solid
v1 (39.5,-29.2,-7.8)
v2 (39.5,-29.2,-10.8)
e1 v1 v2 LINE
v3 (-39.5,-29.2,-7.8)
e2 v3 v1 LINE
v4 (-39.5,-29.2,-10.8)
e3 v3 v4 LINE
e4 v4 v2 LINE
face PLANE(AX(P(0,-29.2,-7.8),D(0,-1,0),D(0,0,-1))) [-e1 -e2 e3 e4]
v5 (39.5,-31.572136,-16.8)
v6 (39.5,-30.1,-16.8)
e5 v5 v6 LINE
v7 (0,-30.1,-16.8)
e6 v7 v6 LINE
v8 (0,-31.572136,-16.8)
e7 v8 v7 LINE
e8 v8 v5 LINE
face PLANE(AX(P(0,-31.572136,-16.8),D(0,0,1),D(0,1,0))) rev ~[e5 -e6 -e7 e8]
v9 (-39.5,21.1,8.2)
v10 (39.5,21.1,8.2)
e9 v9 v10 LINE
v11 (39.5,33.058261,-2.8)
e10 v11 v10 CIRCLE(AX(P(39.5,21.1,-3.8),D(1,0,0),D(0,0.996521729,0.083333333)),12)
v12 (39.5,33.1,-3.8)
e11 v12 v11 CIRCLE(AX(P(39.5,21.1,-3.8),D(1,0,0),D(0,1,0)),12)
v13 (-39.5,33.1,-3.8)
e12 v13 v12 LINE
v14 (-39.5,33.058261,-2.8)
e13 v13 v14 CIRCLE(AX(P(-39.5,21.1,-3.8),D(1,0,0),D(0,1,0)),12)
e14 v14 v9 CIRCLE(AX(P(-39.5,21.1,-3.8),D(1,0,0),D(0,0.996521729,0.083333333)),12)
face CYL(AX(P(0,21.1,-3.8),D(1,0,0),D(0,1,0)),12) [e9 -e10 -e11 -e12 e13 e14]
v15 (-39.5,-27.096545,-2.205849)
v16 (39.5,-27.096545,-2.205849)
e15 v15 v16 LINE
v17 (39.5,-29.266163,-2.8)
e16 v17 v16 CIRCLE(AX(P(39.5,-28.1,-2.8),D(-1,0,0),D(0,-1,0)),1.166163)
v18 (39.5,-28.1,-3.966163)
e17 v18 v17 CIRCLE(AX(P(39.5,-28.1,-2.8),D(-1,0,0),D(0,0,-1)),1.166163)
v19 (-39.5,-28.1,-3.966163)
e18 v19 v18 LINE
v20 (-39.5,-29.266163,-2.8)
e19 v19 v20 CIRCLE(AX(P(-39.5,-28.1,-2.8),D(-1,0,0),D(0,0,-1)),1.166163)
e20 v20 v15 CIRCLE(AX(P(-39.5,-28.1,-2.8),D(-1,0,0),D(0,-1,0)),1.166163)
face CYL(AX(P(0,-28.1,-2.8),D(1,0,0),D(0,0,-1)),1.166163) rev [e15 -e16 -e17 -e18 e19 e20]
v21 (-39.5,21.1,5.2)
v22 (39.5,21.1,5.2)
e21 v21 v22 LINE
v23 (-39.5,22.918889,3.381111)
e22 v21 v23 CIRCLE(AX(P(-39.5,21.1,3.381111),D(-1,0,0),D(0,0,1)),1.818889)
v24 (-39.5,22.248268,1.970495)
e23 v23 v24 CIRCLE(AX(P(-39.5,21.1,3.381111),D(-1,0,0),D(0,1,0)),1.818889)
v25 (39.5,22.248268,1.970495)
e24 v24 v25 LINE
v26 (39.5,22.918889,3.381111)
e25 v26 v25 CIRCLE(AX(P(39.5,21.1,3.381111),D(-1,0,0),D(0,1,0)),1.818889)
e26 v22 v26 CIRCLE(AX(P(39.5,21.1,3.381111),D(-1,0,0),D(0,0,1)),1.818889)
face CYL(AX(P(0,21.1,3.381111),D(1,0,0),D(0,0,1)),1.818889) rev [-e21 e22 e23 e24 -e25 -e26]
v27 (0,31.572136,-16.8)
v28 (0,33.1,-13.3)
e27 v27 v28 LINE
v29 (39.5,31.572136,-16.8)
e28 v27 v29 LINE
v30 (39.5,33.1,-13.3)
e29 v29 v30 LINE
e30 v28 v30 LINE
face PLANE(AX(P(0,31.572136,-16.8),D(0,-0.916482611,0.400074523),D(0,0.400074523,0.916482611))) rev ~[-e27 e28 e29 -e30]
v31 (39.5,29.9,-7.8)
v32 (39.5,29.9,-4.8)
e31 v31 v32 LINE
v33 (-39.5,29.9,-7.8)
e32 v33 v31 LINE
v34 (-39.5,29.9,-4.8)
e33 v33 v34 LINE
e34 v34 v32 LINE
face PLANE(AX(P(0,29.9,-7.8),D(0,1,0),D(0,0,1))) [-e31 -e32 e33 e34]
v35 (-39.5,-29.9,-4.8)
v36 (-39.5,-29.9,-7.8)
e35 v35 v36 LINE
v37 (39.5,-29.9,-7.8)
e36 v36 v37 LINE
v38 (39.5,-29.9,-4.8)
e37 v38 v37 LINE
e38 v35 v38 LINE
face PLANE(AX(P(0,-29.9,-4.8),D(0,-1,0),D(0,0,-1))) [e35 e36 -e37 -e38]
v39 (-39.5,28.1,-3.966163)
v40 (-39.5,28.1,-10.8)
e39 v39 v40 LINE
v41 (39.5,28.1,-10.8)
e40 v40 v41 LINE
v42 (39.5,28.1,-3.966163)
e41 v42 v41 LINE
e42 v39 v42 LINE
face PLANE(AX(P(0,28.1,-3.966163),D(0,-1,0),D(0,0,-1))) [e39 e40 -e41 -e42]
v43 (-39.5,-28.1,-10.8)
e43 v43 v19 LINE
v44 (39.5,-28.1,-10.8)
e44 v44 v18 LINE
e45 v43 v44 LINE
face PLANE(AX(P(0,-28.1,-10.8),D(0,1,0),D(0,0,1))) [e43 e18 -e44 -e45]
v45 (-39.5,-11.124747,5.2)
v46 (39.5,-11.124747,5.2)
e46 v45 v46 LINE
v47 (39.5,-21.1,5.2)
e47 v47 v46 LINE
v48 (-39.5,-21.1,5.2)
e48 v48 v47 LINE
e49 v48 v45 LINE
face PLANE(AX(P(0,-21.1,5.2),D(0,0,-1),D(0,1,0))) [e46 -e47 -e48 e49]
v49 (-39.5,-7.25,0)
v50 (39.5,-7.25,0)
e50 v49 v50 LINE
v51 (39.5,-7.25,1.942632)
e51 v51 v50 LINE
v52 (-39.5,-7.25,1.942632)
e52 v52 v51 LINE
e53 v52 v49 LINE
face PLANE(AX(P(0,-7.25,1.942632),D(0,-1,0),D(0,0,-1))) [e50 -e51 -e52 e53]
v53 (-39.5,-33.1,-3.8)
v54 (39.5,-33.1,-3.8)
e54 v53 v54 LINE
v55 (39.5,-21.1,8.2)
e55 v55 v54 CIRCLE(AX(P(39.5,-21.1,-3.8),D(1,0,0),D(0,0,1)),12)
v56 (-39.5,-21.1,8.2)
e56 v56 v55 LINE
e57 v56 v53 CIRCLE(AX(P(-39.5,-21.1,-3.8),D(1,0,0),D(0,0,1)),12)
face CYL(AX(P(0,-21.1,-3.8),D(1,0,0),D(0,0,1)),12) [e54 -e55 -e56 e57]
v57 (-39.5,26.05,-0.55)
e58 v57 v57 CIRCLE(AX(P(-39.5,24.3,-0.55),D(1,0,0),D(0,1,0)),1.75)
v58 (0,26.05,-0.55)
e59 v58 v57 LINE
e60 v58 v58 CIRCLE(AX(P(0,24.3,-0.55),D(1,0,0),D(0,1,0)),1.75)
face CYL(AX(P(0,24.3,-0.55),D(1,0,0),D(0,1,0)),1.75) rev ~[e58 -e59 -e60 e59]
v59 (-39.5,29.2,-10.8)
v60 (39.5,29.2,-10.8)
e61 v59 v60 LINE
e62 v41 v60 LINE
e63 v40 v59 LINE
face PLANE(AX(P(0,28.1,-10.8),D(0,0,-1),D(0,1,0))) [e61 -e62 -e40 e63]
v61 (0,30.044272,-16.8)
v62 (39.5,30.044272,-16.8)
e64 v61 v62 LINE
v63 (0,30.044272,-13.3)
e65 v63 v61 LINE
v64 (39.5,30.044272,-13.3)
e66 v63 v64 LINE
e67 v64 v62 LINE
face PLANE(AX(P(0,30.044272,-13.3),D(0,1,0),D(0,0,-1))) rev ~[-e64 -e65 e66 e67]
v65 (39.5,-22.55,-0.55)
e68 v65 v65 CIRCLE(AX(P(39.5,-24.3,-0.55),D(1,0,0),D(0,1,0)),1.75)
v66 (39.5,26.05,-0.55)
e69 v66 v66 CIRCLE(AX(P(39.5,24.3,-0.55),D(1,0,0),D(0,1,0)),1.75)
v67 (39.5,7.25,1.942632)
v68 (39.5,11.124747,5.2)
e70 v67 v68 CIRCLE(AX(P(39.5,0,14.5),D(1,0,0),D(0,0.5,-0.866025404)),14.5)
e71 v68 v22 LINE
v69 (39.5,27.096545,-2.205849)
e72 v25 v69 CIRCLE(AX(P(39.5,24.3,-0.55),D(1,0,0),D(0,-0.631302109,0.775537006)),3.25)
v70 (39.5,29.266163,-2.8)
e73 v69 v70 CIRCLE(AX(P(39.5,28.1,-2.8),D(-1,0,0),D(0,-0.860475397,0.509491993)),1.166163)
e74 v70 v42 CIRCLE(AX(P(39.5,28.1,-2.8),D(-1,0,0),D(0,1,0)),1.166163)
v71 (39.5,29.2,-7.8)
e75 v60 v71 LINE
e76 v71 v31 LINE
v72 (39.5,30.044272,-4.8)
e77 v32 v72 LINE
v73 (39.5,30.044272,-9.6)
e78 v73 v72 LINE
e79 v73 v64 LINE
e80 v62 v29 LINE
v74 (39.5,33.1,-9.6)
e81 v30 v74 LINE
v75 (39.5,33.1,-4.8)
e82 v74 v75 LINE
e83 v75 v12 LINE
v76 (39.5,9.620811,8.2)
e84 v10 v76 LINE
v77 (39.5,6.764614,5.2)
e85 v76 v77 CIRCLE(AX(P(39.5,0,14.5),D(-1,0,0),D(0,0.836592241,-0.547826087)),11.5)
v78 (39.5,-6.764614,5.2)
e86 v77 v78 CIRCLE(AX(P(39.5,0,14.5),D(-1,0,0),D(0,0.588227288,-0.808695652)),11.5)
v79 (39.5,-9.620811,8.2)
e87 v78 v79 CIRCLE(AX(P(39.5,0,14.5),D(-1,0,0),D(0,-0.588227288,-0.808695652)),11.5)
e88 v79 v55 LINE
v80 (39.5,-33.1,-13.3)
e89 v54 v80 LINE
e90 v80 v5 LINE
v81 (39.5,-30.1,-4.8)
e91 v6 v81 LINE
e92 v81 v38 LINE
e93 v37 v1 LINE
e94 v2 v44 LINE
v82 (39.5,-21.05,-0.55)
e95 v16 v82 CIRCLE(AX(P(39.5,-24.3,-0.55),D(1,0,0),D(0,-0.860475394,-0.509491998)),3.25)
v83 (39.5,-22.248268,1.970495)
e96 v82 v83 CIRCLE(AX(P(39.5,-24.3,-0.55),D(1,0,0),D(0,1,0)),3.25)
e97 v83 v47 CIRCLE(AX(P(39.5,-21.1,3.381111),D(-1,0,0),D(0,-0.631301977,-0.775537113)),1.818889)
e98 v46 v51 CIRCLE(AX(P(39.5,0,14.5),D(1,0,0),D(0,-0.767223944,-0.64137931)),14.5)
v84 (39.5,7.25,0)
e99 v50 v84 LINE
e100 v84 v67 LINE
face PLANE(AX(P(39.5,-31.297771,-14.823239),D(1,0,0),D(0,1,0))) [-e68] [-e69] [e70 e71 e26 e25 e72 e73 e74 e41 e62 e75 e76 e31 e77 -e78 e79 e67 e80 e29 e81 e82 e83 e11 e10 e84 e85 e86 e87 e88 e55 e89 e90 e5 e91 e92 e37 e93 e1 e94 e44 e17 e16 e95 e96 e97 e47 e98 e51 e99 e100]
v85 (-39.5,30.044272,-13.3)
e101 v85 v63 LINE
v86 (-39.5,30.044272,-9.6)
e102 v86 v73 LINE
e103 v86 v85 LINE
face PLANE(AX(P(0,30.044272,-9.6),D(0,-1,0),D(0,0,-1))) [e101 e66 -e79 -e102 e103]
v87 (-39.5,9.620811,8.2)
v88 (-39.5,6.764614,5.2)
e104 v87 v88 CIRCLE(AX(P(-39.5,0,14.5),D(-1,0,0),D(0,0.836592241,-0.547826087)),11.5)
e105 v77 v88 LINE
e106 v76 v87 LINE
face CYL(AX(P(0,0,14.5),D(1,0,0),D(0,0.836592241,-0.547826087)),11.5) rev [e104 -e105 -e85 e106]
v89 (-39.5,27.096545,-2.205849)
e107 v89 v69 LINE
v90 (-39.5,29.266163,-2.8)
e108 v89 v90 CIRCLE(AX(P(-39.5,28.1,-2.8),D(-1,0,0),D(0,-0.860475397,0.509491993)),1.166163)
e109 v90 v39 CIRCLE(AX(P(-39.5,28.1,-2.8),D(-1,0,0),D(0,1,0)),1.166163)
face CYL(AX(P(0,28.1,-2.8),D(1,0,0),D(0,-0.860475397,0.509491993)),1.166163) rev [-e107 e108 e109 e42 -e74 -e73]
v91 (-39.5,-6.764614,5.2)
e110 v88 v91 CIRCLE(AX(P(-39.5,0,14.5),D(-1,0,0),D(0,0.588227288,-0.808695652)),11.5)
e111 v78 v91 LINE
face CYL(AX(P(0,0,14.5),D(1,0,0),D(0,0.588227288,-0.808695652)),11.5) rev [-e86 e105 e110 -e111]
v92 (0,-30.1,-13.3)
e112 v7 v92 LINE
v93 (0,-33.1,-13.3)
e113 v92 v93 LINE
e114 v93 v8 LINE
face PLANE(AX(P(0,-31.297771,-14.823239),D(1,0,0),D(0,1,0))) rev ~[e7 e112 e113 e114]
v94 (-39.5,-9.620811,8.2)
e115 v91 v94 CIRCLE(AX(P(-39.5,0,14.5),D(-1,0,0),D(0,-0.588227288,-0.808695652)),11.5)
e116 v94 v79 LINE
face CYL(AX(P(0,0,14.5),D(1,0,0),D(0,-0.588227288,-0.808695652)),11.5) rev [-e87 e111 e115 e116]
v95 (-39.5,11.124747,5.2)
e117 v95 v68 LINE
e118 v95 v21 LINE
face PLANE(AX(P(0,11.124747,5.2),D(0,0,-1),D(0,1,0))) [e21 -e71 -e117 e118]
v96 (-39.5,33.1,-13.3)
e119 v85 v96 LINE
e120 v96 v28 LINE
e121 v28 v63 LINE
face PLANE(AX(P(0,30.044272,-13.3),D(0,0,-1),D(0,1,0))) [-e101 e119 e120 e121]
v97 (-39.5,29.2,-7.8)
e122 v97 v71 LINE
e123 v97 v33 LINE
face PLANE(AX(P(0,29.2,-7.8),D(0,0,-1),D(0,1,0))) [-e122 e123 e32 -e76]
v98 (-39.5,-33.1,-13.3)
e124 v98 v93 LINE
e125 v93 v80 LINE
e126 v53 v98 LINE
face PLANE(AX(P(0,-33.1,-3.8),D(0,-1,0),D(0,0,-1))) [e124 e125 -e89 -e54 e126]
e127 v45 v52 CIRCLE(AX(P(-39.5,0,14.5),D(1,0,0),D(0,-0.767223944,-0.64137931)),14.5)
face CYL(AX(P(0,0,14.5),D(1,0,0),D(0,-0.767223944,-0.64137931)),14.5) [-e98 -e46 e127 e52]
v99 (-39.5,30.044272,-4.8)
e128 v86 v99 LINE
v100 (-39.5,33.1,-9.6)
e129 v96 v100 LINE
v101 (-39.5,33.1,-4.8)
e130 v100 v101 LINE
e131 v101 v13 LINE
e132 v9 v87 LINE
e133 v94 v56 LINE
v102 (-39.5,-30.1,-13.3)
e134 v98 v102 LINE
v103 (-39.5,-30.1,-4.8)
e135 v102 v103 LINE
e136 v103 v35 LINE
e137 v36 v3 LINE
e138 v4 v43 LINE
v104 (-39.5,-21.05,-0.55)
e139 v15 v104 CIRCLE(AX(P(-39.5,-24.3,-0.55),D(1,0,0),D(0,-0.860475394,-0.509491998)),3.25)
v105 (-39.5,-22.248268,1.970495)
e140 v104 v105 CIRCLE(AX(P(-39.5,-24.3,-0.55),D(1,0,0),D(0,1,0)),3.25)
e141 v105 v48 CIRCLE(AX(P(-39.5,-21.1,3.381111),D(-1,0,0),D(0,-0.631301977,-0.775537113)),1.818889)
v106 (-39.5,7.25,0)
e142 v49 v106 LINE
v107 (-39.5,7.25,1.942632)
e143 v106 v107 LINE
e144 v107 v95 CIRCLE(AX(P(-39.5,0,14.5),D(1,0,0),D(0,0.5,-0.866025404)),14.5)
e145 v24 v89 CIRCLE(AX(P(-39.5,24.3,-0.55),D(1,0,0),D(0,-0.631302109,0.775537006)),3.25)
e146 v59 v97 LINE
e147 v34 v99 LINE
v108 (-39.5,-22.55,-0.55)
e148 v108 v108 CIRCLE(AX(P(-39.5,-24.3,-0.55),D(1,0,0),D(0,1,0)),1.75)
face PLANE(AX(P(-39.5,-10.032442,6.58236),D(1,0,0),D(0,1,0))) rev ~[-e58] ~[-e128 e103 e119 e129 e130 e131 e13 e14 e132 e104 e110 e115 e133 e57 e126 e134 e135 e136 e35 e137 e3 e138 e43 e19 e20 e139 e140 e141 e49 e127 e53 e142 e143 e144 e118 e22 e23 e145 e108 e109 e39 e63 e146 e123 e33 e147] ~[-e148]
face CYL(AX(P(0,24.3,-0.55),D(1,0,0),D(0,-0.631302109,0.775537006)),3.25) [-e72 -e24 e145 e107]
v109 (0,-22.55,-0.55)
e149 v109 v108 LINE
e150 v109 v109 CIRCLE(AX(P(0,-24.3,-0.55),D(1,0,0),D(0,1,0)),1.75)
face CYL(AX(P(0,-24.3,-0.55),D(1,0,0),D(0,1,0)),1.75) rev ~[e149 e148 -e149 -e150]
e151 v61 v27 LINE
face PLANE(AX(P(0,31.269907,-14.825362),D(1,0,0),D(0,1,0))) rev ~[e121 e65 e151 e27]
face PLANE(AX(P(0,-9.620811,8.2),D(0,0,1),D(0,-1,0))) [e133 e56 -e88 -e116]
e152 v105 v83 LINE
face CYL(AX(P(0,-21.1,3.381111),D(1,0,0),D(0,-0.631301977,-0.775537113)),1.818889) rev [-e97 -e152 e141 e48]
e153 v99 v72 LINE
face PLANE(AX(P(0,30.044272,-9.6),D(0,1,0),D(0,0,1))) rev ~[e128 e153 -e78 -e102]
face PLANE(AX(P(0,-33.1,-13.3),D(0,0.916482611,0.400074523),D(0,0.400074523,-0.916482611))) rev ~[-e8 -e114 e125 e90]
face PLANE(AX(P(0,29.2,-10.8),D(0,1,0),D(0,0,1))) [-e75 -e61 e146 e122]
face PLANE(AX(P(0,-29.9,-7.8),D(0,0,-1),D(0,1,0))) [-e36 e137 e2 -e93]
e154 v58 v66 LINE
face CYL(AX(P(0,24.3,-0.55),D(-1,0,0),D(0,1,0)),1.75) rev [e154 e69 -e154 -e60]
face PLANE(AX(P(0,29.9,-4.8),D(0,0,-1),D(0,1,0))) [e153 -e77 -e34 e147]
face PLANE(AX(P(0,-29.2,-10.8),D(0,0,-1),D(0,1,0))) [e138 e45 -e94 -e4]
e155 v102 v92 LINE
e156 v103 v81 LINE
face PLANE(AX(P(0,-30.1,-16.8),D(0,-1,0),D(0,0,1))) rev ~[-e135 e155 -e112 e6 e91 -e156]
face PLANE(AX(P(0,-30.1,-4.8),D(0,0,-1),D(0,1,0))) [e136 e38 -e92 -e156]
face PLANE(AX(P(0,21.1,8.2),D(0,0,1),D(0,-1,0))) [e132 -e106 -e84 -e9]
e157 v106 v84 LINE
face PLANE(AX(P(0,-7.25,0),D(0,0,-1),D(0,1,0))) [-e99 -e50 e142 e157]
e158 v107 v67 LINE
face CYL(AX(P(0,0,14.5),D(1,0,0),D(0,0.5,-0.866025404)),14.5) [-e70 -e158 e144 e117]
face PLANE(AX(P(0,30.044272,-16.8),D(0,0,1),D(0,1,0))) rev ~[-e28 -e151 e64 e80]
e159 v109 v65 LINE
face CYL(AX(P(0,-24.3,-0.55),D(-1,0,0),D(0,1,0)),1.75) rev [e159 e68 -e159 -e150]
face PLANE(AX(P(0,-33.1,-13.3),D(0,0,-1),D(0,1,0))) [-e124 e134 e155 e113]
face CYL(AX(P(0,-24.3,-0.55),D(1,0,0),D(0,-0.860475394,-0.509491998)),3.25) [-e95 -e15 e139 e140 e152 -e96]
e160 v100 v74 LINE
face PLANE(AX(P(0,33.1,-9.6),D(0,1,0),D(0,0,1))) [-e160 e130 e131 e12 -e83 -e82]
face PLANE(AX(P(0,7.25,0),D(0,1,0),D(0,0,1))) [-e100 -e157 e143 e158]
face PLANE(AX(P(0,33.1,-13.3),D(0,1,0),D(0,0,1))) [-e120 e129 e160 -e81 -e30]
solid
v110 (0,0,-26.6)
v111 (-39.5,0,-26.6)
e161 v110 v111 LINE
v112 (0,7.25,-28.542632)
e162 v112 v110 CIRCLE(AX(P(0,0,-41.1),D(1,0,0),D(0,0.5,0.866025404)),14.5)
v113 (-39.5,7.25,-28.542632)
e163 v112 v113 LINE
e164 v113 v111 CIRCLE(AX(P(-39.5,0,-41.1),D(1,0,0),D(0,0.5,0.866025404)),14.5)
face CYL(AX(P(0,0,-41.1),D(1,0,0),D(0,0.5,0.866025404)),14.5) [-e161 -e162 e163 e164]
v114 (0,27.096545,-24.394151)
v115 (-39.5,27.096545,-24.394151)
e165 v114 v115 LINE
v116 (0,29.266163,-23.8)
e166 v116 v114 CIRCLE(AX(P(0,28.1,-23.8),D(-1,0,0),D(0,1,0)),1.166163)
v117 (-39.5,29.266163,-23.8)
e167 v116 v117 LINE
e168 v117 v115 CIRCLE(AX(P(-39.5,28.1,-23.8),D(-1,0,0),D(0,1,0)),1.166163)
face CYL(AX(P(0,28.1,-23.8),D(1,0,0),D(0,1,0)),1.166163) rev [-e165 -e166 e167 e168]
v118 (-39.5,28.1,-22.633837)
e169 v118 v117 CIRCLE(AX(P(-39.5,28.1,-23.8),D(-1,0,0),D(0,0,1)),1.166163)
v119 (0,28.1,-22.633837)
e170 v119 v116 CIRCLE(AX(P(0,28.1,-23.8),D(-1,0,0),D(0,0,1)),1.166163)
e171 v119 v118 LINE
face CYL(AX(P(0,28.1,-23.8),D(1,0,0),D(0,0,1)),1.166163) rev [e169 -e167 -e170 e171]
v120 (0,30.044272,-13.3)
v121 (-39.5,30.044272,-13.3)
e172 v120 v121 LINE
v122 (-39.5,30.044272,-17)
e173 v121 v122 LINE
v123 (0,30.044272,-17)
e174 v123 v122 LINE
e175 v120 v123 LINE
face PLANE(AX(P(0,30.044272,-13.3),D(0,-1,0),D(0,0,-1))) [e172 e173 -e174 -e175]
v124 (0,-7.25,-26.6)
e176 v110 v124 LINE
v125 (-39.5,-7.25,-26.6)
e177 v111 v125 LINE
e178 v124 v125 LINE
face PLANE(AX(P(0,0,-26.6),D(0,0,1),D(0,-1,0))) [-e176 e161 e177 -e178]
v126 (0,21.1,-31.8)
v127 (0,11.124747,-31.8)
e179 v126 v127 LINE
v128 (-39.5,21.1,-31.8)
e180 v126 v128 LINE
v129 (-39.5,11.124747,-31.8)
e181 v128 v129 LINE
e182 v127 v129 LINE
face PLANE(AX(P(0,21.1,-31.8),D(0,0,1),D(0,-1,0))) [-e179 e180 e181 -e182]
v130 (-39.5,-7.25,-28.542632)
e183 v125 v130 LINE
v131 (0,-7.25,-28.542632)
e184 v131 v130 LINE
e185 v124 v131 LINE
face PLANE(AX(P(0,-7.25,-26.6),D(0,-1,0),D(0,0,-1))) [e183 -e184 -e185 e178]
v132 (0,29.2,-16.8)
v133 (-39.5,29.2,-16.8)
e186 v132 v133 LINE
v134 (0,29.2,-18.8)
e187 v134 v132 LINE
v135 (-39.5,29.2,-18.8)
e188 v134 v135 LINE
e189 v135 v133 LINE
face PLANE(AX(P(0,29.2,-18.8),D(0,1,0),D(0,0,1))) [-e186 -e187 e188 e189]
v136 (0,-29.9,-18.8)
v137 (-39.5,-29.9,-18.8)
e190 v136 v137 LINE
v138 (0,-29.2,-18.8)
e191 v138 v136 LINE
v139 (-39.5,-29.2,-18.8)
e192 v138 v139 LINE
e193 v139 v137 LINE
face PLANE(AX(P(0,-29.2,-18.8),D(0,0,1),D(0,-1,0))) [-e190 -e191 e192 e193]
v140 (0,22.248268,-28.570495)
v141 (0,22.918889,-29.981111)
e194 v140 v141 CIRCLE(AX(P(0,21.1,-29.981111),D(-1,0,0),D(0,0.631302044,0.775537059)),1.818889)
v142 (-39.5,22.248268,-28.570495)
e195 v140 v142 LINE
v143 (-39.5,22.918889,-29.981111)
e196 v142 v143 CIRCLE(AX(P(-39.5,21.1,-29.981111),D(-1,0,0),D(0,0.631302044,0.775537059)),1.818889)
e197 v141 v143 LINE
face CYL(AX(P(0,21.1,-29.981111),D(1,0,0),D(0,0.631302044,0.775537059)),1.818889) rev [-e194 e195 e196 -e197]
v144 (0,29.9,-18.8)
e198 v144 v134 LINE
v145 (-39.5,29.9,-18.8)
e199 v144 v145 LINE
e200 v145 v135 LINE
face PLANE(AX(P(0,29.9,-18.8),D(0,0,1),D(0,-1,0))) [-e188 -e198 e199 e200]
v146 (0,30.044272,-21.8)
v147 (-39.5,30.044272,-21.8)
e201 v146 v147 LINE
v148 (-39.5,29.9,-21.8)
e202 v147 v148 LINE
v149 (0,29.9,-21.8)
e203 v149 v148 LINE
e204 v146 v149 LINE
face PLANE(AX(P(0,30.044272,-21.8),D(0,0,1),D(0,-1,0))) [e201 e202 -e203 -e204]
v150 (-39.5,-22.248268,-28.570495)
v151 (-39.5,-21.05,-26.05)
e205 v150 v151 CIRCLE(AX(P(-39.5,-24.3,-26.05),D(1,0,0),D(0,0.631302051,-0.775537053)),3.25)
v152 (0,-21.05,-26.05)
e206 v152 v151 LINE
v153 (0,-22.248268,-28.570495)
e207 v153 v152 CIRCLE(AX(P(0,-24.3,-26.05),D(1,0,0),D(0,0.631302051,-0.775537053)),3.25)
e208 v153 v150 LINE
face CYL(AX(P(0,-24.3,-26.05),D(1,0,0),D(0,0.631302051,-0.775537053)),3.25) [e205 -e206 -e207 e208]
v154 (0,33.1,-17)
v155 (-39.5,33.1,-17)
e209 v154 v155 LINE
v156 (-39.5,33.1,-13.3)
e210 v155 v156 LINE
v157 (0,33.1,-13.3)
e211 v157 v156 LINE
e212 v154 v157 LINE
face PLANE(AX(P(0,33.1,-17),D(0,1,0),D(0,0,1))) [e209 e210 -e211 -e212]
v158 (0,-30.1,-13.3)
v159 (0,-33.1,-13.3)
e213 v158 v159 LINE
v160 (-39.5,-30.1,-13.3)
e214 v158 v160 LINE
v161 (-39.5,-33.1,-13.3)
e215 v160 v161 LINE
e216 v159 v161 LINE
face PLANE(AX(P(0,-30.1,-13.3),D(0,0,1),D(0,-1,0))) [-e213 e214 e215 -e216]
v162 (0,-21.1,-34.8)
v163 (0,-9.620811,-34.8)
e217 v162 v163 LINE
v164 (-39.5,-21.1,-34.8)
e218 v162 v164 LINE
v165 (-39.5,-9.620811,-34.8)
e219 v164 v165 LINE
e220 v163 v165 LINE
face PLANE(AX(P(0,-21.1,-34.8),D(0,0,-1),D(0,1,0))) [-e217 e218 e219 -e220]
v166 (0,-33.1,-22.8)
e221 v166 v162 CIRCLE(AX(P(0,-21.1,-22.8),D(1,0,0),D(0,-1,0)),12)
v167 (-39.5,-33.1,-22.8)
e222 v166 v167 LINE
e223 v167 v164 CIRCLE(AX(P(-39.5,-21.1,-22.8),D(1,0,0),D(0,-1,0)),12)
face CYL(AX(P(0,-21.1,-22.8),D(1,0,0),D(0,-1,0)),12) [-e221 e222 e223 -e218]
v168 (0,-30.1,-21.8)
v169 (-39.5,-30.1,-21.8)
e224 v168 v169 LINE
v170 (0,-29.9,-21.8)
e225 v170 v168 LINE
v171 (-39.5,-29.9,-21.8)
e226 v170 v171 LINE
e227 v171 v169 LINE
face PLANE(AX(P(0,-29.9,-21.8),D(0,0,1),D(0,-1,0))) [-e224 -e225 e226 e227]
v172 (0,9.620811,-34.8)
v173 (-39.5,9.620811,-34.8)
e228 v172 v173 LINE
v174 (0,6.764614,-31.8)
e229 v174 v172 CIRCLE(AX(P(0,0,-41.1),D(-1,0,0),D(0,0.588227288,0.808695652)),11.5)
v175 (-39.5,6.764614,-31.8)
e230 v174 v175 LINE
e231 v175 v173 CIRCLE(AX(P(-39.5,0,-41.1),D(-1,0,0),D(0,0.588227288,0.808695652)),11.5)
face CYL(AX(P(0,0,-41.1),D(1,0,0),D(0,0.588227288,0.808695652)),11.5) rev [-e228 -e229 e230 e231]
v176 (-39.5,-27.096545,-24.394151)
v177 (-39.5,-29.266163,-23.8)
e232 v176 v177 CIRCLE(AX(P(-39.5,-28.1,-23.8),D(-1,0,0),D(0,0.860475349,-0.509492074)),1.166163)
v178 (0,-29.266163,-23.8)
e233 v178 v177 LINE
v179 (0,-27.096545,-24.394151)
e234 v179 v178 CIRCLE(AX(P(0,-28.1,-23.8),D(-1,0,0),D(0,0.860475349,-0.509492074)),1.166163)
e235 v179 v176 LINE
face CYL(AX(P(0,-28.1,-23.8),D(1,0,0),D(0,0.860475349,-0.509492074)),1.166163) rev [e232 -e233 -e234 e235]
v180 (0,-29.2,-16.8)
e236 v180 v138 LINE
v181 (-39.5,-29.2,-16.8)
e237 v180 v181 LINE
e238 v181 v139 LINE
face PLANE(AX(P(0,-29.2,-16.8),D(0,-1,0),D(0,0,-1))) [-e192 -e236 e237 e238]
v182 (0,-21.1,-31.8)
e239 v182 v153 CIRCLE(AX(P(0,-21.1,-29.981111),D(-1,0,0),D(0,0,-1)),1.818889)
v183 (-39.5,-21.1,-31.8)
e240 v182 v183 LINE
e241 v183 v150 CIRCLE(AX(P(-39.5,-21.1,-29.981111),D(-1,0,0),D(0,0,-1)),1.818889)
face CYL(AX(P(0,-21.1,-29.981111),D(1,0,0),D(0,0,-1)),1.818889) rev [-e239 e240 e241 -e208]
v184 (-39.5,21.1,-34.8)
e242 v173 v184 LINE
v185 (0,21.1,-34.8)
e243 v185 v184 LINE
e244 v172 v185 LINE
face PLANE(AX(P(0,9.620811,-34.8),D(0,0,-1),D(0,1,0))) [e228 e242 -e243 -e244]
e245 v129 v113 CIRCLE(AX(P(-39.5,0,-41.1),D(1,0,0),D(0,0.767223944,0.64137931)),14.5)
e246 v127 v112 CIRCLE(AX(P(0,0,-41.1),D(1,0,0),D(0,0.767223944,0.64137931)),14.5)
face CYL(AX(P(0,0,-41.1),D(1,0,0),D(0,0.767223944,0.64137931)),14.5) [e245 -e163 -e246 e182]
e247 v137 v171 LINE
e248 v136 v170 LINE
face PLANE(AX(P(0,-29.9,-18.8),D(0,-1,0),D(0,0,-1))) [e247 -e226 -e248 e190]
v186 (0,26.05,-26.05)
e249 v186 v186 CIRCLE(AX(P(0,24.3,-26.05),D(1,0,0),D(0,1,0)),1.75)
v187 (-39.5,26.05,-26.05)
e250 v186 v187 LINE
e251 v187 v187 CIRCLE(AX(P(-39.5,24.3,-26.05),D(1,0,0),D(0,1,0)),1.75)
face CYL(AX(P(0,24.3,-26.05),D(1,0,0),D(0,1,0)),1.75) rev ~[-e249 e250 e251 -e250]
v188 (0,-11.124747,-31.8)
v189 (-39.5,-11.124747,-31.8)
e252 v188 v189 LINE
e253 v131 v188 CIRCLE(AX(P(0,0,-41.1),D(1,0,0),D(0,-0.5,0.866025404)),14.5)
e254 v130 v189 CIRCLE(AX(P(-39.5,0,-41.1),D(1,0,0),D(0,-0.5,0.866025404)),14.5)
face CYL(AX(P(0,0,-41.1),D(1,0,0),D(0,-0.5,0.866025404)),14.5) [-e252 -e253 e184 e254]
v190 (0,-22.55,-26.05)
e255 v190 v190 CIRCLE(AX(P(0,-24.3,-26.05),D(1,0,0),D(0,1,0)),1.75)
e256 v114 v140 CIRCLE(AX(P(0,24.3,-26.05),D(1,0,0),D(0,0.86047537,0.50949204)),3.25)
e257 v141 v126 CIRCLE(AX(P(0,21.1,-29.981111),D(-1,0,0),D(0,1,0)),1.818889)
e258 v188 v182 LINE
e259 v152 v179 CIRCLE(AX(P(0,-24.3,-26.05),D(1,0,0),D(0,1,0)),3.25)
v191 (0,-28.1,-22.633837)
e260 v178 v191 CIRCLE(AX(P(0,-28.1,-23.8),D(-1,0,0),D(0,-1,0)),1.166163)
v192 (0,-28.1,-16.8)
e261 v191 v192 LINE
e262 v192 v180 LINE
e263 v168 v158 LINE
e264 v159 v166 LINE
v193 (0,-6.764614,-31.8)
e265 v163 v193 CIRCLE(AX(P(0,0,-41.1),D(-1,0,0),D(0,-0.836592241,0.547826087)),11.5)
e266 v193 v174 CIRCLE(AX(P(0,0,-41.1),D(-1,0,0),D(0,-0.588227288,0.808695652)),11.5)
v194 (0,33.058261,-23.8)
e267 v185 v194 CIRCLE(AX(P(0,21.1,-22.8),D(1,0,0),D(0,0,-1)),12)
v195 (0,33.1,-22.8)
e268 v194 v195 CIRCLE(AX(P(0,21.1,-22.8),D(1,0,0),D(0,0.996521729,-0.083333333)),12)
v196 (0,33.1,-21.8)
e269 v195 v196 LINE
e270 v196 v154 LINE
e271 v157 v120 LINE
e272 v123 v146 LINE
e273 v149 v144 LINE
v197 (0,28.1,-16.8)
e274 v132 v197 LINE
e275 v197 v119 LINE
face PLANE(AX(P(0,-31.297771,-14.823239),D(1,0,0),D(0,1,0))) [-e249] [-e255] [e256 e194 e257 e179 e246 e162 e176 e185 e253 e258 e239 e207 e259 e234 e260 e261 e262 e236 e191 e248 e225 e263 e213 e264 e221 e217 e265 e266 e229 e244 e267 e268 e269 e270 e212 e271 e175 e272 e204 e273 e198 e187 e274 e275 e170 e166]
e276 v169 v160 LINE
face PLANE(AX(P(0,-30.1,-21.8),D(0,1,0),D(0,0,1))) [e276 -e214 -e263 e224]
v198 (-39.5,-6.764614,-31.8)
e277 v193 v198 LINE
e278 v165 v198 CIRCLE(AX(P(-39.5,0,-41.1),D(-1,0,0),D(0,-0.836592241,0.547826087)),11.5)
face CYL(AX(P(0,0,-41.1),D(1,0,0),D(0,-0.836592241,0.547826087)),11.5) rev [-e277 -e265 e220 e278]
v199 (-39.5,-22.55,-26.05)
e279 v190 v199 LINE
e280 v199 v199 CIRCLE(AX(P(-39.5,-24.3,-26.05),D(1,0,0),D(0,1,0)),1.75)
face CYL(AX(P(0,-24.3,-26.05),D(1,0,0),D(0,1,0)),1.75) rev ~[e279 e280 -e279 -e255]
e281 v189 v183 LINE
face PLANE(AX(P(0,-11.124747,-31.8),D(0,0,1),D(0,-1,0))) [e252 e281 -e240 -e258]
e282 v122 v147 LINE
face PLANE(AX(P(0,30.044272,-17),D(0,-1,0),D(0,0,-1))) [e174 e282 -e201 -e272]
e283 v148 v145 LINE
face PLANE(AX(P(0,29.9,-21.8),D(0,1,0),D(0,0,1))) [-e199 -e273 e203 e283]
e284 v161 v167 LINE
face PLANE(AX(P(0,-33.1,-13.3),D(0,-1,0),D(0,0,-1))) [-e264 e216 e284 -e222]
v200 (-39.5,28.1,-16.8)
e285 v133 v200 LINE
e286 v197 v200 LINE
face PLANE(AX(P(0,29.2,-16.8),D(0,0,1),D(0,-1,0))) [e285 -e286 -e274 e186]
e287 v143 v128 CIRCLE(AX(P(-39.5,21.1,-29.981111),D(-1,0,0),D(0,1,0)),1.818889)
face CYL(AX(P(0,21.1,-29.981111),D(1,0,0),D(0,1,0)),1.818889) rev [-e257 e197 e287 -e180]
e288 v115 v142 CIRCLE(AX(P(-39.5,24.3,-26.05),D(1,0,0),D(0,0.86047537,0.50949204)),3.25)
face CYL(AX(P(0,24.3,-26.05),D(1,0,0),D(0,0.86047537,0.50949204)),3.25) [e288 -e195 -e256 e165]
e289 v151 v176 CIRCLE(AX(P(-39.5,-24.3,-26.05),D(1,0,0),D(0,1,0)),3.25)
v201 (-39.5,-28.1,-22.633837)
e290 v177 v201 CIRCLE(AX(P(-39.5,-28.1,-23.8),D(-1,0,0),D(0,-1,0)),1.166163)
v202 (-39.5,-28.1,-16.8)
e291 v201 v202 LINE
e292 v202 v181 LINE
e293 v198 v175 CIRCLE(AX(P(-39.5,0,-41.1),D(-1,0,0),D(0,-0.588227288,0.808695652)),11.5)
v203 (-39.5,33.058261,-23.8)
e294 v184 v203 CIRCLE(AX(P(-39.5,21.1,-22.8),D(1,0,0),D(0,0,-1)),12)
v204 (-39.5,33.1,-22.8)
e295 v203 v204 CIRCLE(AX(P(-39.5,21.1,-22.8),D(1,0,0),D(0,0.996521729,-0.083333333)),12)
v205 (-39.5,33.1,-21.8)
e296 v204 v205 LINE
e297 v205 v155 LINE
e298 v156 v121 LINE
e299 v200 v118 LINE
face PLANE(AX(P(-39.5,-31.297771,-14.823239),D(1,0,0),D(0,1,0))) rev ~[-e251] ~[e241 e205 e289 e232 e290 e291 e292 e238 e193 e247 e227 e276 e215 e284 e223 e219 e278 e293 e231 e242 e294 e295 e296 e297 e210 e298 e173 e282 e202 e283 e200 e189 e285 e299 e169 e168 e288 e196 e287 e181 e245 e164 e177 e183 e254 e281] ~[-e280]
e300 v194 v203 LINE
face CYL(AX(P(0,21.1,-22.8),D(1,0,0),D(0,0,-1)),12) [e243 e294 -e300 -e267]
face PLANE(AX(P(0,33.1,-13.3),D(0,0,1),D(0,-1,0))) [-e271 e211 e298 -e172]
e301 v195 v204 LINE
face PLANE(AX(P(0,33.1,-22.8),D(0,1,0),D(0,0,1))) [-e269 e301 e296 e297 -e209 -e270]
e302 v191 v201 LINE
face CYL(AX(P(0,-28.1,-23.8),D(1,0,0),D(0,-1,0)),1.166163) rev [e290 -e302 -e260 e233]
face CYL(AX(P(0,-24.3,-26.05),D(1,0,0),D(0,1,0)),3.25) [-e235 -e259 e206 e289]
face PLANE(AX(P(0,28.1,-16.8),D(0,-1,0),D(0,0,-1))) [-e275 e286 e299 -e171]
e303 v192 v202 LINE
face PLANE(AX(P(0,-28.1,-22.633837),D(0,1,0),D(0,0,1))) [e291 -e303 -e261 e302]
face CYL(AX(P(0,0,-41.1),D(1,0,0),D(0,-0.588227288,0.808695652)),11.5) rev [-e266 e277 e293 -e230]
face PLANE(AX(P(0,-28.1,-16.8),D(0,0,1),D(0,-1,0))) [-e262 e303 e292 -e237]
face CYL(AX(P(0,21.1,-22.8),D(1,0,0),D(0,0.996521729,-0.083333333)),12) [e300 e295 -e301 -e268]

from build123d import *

# Parameters (mm, degrees)
F0_R     = 1.75
F0_W     = 3.0557280899
F0_H     = 4.8
F0_W_2   = 1.1
F0_H_2   = 1.0000000006
F1_DEPTH = 39.5
F2_DEPTH = 39.5
F3_DEPTH = 39.5


with BuildPart() as f1:
    # F0 (on Right) → F1 (new body, symmetric)
    with BuildSketch(Plane.YZ):
        with BuildLine():
            Line((-9.6208107766, 8.2), (-13.0598621739, 8.2))
            ThreePointArc((-13.0598621739, 8.2), (-12.184983894, 6.6402183553), (-11.1247471881, 5.2))
            Line((-11.1247471881, 5.2), (-6.7646138101, 5.2))
            ThreePointArc((-6.7646138101, 5.2), (-8.3288975694, 6.5703426759), (-9.6208107766, 8.2))
        make_face()
        with BuildLine():
            Line((-6.7646138101, 5.2), (-11.1247471881, 5.2))
            ThreePointArc((-11.1247471881, 5.2), (-9.3306187205, 3.400921016), (-7.25, 1.9426316451))
            Line((-7.25, 1.9426316451), (7.25, 1.9426316451))
            ThreePointArc((7.25, 1.9426316451), (9.3306187205, 3.400921016), (11.1247471881, 5.2))
            Line((11.1247471881, 5.2), (6.7646138101, 5.2))
            ThreePointArc((6.7646138101, 5.2), (0, 3), (-6.7646138101, 5.2))
        make_face()
        with BuildLine():
            ThreePointArc((0, 0), (-3.752876154, 0.4940755188), (-7.25, 1.9426316451))
            Line((-7.25, 1.9426316451), (-7.25, 0))
            Line((-7.25, 0), (0, 0))
        make_face()
        with BuildLine():
            Line((7.25, 1.9426316451), (-7.25, 1.9426316451))
            ThreePointArc((-7.25, 1.9426316451), (-3.752876154, 0.4940755188), (0, 0))
            ThreePointArc((0, 0), (3.752876154, 0.4940755188), (7.25, 1.9426316451))
        make_face()
        with BuildLine():
            ThreePointArc((7.25, 1.9426316451), (3.752876154, 0.4940755188), (0, 0))
            Line((0, 0), (7.25, 0))
            Line((7.25, 0), (7.25, 1.9426316451))
        make_face()
        with BuildLine():
            Line((13.0598621739, 8.2), (9.6208107766, 8.2))
            ThreePointArc((9.6208107766, 8.2), (8.3288975694, 6.5703426759), (6.7646138101, 5.2))
            Line((6.7646138101, 5.2), (11.1247471881, 5.2))
            ThreePointArc((11.1247471881, 5.2), (12.184983894, 6.6402183553), (13.0598621739, 8.2))
        make_face()
        with BuildLine():
            Line((21.1, 8.2), (13.0598621739, 8.2))
            ThreePointArc((13.0598621739, 8.2), (12.184983894, 6.6402183553), (11.1247471881, 5.2))
            Line((11.1247471881, 5.2), (21.1, 5.2))
            ThreePointArc((21.1, 5.2), (27.1000000002, 2.9082039323), (30.0442719101, -2.8000000006))
            Line((30.0442719101, -2.8000000006), (33.0582607432, -2.8000000006))
            ThreePointArc((33.0582607432, -2.8000000006), (29.2240384049, 5.0317608661), (21.1, 8.2))
        make_face()
        with BuildLine():
            ThreePointArc((27.55, -0.55), (27.4345869955, -1.4084080426), (27.0965450045, -2.2058490383))
            ThreePointArc((27.0965450045, -2.2058490383), (28.4080135636, -1.6752489443), (29.2661634937, -2.8000000006))
            Line((29.2661634937, -2.8000000006), (30.0442719101, -2.8000000006))
            ThreePointArc((30.0442719101, -2.8000000006), (27.1000000002, 2.9082039323), (21.1, 5.2))
            ThreePointArc((21.1, 5.2), (22.3861486676, 4.6672597787), (22.9188888889, 3.3811111111))
            ThreePointArc((22.9188888889, 3.3811111111), (22.7427003625, 2.6001550885), (22.2482681457, 1.9704952684))
            ThreePointArc((22.2482681457, 1.9704952684), (25.6954159727, 2.3851855586), (27.55, -0.55))
        make_face()
        with BuildLine():
            ThreePointArc((22.2482681457, 1.9704952684), (22.1788801073, -3.0123871346), (27.0965450045, -2.2058490383))
            ThreePointArc((27.0965450045, -2.2058490383), (27.4345869955, -1.4084080426), (27.55, -0.55))
            ThreePointArc((27.55, -0.55), (25.6954159727, 2.3851855586), (22.2482681457, 1.9704952684))
        make_face()
        with Locations((24.3, -0.55)):
            Circle(F0_R, mode=Mode.SUBTRACT)
        with BuildLine():
            Line((28.1, -3.9661634942), (28.1, -9.8))
            Line((28.1, -9.8), (29.2, -9.8))
            Line((29.2, -9.8), (29.2, -7.8000000006))
            Line((29.2, -7.8000000006), (29.9, -7.8000000006))
            Line((29.9, -7.8000000006), (29.9, -4.8000000006))
            Line((29.9, -4.8000000006), (30.0442719101, -4.8000000006))
            Line((30.0442719101, -4.8000000006), (30.0442719101, -2.8000000006))
            Line((30.0442719101, -2.8000000006), (29.2661634937, -2.8000000006))
            ThreePointArc((29.2661634937, -2.8000000006), (28.9246021143, -3.6246021149), (28.1, -3.9661634942))
        make_face()
        with BuildLine():
            Line((33.0582607432, -2.8000000006), (30.0442719101, -2.8000000006))
            Line((30.0442719101, -2.8000000006), (30.0442719101, -4.8000000006))
            Line((30.0442719101, -4.8000000006), (33.1, -4.8000000006))
            Line((33.1, -4.8000000006), (33.1, -3.8))
            ThreePointArc((33.1, -3.8), (33.0895606449, -3.2995646484), (33.0582607432, -2.8000000006))
        make_face()
        with Locations((31.572135955, -7.2000000006)):
            Rectangle(F0_W, F0_H)
        Polygon((30.0442719101, -9.6000000006), (30.0442719101, -9.8), (31.572135955, -9.8), (33.1, -9.8), (33.1, -9.6000000006), align=None)
        with BuildLine():
            Line((-33.1, -3.8), (-33.1, -4.8000000006))
            Line((-33.1, -4.8000000006), (-30.1, -4.8000000006))
            Line((-30.1, -4.8000000006), (-30.1, -3.8))
            ThreePointArc((-30.1, -3.8), (-30.0860571774, -3.2992241972), (-30.0442719101, -2.8000000006))
            ThreePointArc((-30.0442719101, -2.8000000006), (-27.1000000002, 2.9082039323), (-21.1, 5.2))
            Line((-21.1, 5.2), (-11.1247471881, 5.2))
            ThreePointArc((-11.1247471881, 5.2), (-12.184983894, 6.6402183553), (-13.0598621739, 8.2))
            Line((-13.0598621739, 8.2), (-21.1, 8.2))
            ThreePointArc((-21.1, 8.2), (-29.5852813742, 4.6852813742), (-33.1, -3.8))
        make_face()
        with BuildLine():
            ThreePointArc((-21.1, 5.2), (-27.1000000002, 2.9082039323), (-30.0442719101, -2.8000000006))
            Line((-30.0442719101, -2.8000000006), (-29.2661634937, -2.8000000006))
            ThreePointArc((-29.2661634937, -2.8000000006), (-28.4080135888, -1.6752489512), (-27.0965450312, -2.2058489932))
            ThreePointArc((-27.0965450312, -2.2058489932), (-26.4211198756, 1.9123871494), (-22.2482681512, 1.9704952729))
            ThreePointArc((-22.2482681512, 1.9704952729), (-22.813783864, 3.9904563809), (-21.1, 5.2))
        make_face()
        with BuildLine():
            ThreePointArc((-21.05, -0.55), (-21.364814443, 0.8454159759), (-22.2482681512, 1.9704952729))
            ThreePointArc((-22.2482681512, 1.9704952729), (-26.4211198756, 1.9123871494), (-27.0965450312, -2.2058489932))
            ThreePointArc((-27.0965450312, -2.2058489932), (-23.4415919826, -3.6845870024), (-21.05, -0.55))
        make_face()
        with Locations((-24.3, -0.55)):
            Circle(F0_R, mode=Mode.SUBTRACT)
        with Locations((-28.65, -10.3000000003)):
            Rectangle(F0_W_2, F0_H_2)
        Polygon((-31.572135955, -9.8), (-33.1, -13.3), (-30.1, -13.3), (-30.1, -9.8), align=None)
        with BuildLine():
            Line((-30.1, -3.8), (-30.1, -4.8000000006))
            Line((-30.1, -4.8000000006), (-29.9, -4.8000000006))
            Line((-29.9, -4.8000000006), (-29.9, -7.8000000006))
            Line((-29.9, -7.8000000006), (-29.2, -7.8000000006))
            Line((-29.2, -7.8000000006), (-29.2, -9.8))
            Line((-29.2, -9.8), (-28.1, -9.8))
            Line((-28.1, -9.8), (-28.1, -3.9661634942))
            ThreePointArc((-28.1, -3.9661634942), (-28.9246021143, -3.6246021149), (-29.2661634937, -2.8000000006))
            Line((-29.2661634937, -2.8000000006), (-30.0442719101, -2.8000000006))
            ThreePointArc((-30.0442719101, -2.8000000006), (-30.0860571774, -3.2992241972), (-30.1, -3.8))
        make_face()
        Polygon((-33.1, -4.8000000006), (-33.1, -9.8), (-31.572135955, -9.8), (-30.1, -9.8), (-30.1, -4.8000000006), align=None)
        Polygon((-31.572135955, -9.8), (-33.1, -13.3), (-30.1, -13.3), (-30.1, -9.8), align=None)
        Polygon((-33.1, -9.8), (-33.1, -13.3), (-31.572135955, -9.8), align=None)
        Polygon((31.572135955, -9.8), (30.0442719101, -9.8), (30.0442719101, -13.3), (33.1, -13.3), align=None)
        Polygon((33.1, -9.8), (31.572135955, -9.8), (33.1, -13.3), align=None)
        with Locations((28.65, -10.3000000003)):
            Rectangle(F0_W_2, F0_H_2)
    extrude(amount=F1_DEPTH, both=True)

    # F0 (on Right) → F2 (join, through all)
    with BuildSketch(Plane.YZ):
        Polygon((-30.1, -13.3), (-33.1, -13.3), (-31.572135955, -16.8), (-30.1, -16.8), align=None)
        Polygon((30.0442719101, -13.3), (30.0442719101, -16.8), (31.572135955, -16.8), (33.1, -13.3), align=None)
    extrude(amount=F2_DEPTH)


with BuildPart() as f3:
    # F0 (on Right) → F3 (new body, through all)
    with BuildSketch(Plane.YZ):
        Polygon((-30.1, -13.3), (-33.1, -13.3), (-31.572135955, -16.8), (-30.1, -16.8), align=None)
        Polygon((-33.1, -13.3), (-33.1, -16.8), (-31.572135955, -16.8), align=None)
        Polygon((-31.572135955, -16.8), (-33.1, -16.8), (-33.1, -21.7999999994), (-30.1, -21.7999999994), (-30.1, -16.8), align=None)
        Polygon((33.1, -13.3), (31.572135955, -16.8), (33.1, -16.8), align=None)
        Polygon((30.0442719101, -13.3), (30.0442719101, -16.8), (31.572135955, -16.8), (33.1, -13.3), align=None)
        with Locations((31.572135955, -19.3999999994)):
            Rectangle(F0_W, F0_H)
        with BuildLine():
            Line((30.0442719101, -21.7999999994), (30.0442719101, -23.7999999994))
            Line((30.0442719101, -23.7999999994), (33.0582607432, -23.7999999994))
            ThreePointArc((33.0582607432, -23.7999999994), (33.0895606449, -23.3004353516), (33.1, -22.8))
            Line((33.1, -22.8), (33.1, -21.7999999994))
            Line((33.1, -21.7999999994), (30.0442719101, -21.7999999994))
        make_face()
        with BuildLine():
            Line((29.2, -16.8), (28.1, -16.8))
            Line((28.1, -16.8), (28.1, -22.6338365058))
            ThreePointArc((28.1, -22.6338365058), (28.9246021143, -22.9753978851), (29.2661634937, -23.7999999994))
            Line((29.2661634937, -23.7999999994), (30.0442719101, -23.7999999994))
            Line((30.0442719101, -23.7999999994), (30.0442719101, -21.7999999994))
            Line((30.0442719101, -21.7999999994), (29.9, -21.7999999994))
            Line((29.9, -21.7999999994), (29.9, -18.7999999994))
            Line((29.9, -18.7999999994), (29.2, -18.7999999994))
            Line((29.2, -18.7999999994), (29.2, -16.8))
        make_face()
        with BuildLine():
            ThreePointArc((11.1247471881, -31.8), (12.184983894, -33.2402183553), (13.0598621739, -34.8))
            Line((13.0598621739, -34.8), (21.1, -34.8))
            ThreePointArc((21.1, -34.8), (29.2240384049, -31.6317608661), (33.0582607432, -23.7999999994))
            Line((33.0582607432, -23.7999999994), (30.0442719101, -23.7999999994))
            ThreePointArc((30.0442719101, -23.7999999994), (27.1000000002, -29.5082039323), (21.1, -31.8))
            Line((21.1, -31.8), (11.1247471881, -31.8))
        make_face()
        with BuildLine():
            Line((30.0442719101, -23.7999999994), (29.2661634937, -23.7999999994))
            ThreePointArc((29.2661634937, -23.7999999994), (28.4080135131, -24.9247510695), (27.0965449512, -24.3941508716))
            ThreePointArc((27.0965449512, -24.3941508716), (27.4345869817, -25.1915919069), (27.55, -26.05))
            ThreePointArc((27.55, -26.05), (25.695416047, -28.9851855232), (22.2482682734, -28.5704953724))
            ThreePointArc((22.2482682734, -28.5704953724), (22.7427003978, -29.2001551629), (22.9188888889, -29.9811111111))
            ThreePointArc((22.9188888889, -29.9811111111), (22.3861486676, -31.2672597787), (21.1, -31.8))
            ThreePointArc((21.1, -31.8), (27.1000000002, -29.5082039323), (30.0442719101, -23.7999999994))
        make_face()
        with BuildLine():
            ThreePointArc((27.55, -26.05), (27.4345869817, -25.1915919069), (27.0965449512, -24.3941508716))
            ThreePointArc((27.0965449512, -24.3941508716), (22.1788800052, -23.5876129533), (22.2482682734, -28.5704953724))
            ThreePointArc((22.2482682734, -28.5704953724), (25.695416047, -28.9851855232), (27.55, -26.05))
        make_face()
        with Locations((24.3, -26.05)):
            Circle(F0_R, mode=Mode.SUBTRACT)
        with BuildLine():
            ThreePointArc((6.7646138101, -31.8), (8.3288975694, -33.1703426759), (9.6208107766, -34.8))
            Line((9.6208107766, -34.8), (13.0598621739, -34.8))
            ThreePointArc((13.0598621739, -34.8), (12.184983894, -33.2402183553), (11.1247471881, -31.8))
            Line((11.1247471881, -31.8), (6.7646138101, -31.8))
        make_face()
        with BuildLine():
            ThreePointArc((-7.25, -28.5426316451), (-9.3306187205, -30.000921016), (-11.1247471881, -31.8))
            Line((-11.1247471881, -31.8), (-6.7646138101, -31.8))
            ThreePointArc((-6.7646138101, -31.8), (0, -29.6), (6.7646138101, -31.8))
            Line((6.7646138101, -31.8), (11.1247471881, -31.8))
            ThreePointArc((11.1247471881, -31.8), (9.3306187205, -30.000921016), (7.25, -28.5426316451))
            Line((7.25, -28.5426316451), (-7.25, -28.5426316451))
        make_face()
        with BuildLine():
            ThreePointArc((0, -26.6), (-3.752876154, -27.0940755188), (-7.25, -28.5426316451))
            Line((-7.25, -28.5426316451), (7.25, -28.5426316451))
            ThreePointArc((7.25, -28.5426316451), (3.752876154, -27.0940755188), (0, -26.6))
        make_face()
        with BuildLine():
            Line((-7.25, -26.6), (-7.25, -28.5426316451))
            ThreePointArc((-7.25, -28.5426316451), (-3.752876154, -27.0940755188), (0, -26.6))
            Line((0, -26.6), (-7.25, -26.6))
        make_face()
        with BuildLine():
            ThreePointArc((-11.1247471881, -31.8), (-12.184983894, -33.2402183553), (-13.0598621739, -34.8))
            Line((-13.0598621739, -34.8), (-9.6208107766, -34.8))
            ThreePointArc((-9.6208107766, -34.8), (-8.3288975694, -33.1703426759), (-6.7646138101, -31.8))
            Line((-6.7646138101, -31.8), (-11.1247471881, -31.8))
        make_face()
        with BuildLine():
            Line((-30.1, -21.7999999994), (-33.1, -21.7999999994))
            Line((-33.1, -21.7999999994), (-33.1, -22.8))
            ThreePointArc((-33.1, -22.8), (-29.5852813742, -31.2852813742), (-21.1, -34.8))
            Line((-21.1, -34.8), (-13.0598621739, -34.8))
            ThreePointArc((-13.0598621739, -34.8), (-12.184983894, -33.2402183553), (-11.1247471881, -31.8))
            Line((-11.1247471881, -31.8), (-21.1, -31.8))
            ThreePointArc((-21.1, -31.8), (-27.1000000002, -29.5082039323), (-30.0442719101, -23.7999999994))
            ThreePointArc((-30.0442719101, -23.7999999994), (-30.0860571774, -23.3007758028), (-30.1, -22.8))
            Line((-30.1, -22.8), (-30.1, -21.7999999994))
        make_face()
        with BuildLine():
            Line((-29.2661634937, -23.7999999994), (-30.0442719101, -23.7999999994))
            ThreePointArc((-30.0442719101, -23.7999999994), (-27.1000000002, -29.5082039323), (-21.1, -31.8))
            ThreePointArc((-21.1, -31.8), (-22.8137838244, -30.5904564922), (-22.2482683345, -28.5704954221))
            ThreePointArc((-22.2482683345, -28.5704954221), (-26.4211199433, -28.512387091), (-27.0965450605, -24.3941510562))
            ThreePointArc((-27.0965450605, -24.3941510562), (-28.4080136166, -24.9247510412), (-29.2661634937, -23.7999999994))
        make_face()
        with BuildLine():
            ThreePointArc((-21.05, -26.05), (-23.4415920104, -22.91541299), (-27.0965450605, -24.3941510562))
            ThreePointArc((-27.0965450605, -24.3941510562), (-26.4211199433, -28.512387091), (-22.2482683345, -28.5704954221))
            ThreePointArc((-22.2482683345, -28.5704954221), (-21.3648144937, -27.4454160826), (-21.05, -26.05))
        make_face()
        with Locations((-24.3, -26.05)):
            Circle(F0_R, mode=Mode.SUBTRACT)
        with BuildLine():
            Line((-29.9, -21.7999999994), (-30.1, -21.7999999994))
            Line((-30.1, -21.7999999994), (-30.1, -22.8))
            ThreePointArc((-30.1, -22.8), (-30.0860571774, -23.3007758028), (-30.0442719101, -23.7999999994))
            Line((-30.0442719101, -23.7999999994), (-29.2661634937, -23.7999999994))
            ThreePointArc((-29.2661634937, -23.7999999994), (-28.9246021143, -22.9753978851), (-28.1, -22.6338365058))
            Line((-28.1, -22.6338365058), (-28.1, -16.8))
            Line((-28.1, -16.8), (-29.2, -16.8))
            Line((-29.2, -16.8), (-29.2, -18.7999999994))
            Line((-29.2, -18.7999999994), (-29.9, -18.7999999994))
            Line((-29.9, -18.7999999994), (-29.9, -21.7999999994))
        make_face()
        Polygon((31.572135955, -16.8), (30.0442719101, -16.8), (30.0442719101, -16.9999999994), (33.1, -16.9999999994), (33.1, -16.8), align=None)
    extrude(amount=-F3_DEPTH)


solid = Compound([f1.part, f3.part])
